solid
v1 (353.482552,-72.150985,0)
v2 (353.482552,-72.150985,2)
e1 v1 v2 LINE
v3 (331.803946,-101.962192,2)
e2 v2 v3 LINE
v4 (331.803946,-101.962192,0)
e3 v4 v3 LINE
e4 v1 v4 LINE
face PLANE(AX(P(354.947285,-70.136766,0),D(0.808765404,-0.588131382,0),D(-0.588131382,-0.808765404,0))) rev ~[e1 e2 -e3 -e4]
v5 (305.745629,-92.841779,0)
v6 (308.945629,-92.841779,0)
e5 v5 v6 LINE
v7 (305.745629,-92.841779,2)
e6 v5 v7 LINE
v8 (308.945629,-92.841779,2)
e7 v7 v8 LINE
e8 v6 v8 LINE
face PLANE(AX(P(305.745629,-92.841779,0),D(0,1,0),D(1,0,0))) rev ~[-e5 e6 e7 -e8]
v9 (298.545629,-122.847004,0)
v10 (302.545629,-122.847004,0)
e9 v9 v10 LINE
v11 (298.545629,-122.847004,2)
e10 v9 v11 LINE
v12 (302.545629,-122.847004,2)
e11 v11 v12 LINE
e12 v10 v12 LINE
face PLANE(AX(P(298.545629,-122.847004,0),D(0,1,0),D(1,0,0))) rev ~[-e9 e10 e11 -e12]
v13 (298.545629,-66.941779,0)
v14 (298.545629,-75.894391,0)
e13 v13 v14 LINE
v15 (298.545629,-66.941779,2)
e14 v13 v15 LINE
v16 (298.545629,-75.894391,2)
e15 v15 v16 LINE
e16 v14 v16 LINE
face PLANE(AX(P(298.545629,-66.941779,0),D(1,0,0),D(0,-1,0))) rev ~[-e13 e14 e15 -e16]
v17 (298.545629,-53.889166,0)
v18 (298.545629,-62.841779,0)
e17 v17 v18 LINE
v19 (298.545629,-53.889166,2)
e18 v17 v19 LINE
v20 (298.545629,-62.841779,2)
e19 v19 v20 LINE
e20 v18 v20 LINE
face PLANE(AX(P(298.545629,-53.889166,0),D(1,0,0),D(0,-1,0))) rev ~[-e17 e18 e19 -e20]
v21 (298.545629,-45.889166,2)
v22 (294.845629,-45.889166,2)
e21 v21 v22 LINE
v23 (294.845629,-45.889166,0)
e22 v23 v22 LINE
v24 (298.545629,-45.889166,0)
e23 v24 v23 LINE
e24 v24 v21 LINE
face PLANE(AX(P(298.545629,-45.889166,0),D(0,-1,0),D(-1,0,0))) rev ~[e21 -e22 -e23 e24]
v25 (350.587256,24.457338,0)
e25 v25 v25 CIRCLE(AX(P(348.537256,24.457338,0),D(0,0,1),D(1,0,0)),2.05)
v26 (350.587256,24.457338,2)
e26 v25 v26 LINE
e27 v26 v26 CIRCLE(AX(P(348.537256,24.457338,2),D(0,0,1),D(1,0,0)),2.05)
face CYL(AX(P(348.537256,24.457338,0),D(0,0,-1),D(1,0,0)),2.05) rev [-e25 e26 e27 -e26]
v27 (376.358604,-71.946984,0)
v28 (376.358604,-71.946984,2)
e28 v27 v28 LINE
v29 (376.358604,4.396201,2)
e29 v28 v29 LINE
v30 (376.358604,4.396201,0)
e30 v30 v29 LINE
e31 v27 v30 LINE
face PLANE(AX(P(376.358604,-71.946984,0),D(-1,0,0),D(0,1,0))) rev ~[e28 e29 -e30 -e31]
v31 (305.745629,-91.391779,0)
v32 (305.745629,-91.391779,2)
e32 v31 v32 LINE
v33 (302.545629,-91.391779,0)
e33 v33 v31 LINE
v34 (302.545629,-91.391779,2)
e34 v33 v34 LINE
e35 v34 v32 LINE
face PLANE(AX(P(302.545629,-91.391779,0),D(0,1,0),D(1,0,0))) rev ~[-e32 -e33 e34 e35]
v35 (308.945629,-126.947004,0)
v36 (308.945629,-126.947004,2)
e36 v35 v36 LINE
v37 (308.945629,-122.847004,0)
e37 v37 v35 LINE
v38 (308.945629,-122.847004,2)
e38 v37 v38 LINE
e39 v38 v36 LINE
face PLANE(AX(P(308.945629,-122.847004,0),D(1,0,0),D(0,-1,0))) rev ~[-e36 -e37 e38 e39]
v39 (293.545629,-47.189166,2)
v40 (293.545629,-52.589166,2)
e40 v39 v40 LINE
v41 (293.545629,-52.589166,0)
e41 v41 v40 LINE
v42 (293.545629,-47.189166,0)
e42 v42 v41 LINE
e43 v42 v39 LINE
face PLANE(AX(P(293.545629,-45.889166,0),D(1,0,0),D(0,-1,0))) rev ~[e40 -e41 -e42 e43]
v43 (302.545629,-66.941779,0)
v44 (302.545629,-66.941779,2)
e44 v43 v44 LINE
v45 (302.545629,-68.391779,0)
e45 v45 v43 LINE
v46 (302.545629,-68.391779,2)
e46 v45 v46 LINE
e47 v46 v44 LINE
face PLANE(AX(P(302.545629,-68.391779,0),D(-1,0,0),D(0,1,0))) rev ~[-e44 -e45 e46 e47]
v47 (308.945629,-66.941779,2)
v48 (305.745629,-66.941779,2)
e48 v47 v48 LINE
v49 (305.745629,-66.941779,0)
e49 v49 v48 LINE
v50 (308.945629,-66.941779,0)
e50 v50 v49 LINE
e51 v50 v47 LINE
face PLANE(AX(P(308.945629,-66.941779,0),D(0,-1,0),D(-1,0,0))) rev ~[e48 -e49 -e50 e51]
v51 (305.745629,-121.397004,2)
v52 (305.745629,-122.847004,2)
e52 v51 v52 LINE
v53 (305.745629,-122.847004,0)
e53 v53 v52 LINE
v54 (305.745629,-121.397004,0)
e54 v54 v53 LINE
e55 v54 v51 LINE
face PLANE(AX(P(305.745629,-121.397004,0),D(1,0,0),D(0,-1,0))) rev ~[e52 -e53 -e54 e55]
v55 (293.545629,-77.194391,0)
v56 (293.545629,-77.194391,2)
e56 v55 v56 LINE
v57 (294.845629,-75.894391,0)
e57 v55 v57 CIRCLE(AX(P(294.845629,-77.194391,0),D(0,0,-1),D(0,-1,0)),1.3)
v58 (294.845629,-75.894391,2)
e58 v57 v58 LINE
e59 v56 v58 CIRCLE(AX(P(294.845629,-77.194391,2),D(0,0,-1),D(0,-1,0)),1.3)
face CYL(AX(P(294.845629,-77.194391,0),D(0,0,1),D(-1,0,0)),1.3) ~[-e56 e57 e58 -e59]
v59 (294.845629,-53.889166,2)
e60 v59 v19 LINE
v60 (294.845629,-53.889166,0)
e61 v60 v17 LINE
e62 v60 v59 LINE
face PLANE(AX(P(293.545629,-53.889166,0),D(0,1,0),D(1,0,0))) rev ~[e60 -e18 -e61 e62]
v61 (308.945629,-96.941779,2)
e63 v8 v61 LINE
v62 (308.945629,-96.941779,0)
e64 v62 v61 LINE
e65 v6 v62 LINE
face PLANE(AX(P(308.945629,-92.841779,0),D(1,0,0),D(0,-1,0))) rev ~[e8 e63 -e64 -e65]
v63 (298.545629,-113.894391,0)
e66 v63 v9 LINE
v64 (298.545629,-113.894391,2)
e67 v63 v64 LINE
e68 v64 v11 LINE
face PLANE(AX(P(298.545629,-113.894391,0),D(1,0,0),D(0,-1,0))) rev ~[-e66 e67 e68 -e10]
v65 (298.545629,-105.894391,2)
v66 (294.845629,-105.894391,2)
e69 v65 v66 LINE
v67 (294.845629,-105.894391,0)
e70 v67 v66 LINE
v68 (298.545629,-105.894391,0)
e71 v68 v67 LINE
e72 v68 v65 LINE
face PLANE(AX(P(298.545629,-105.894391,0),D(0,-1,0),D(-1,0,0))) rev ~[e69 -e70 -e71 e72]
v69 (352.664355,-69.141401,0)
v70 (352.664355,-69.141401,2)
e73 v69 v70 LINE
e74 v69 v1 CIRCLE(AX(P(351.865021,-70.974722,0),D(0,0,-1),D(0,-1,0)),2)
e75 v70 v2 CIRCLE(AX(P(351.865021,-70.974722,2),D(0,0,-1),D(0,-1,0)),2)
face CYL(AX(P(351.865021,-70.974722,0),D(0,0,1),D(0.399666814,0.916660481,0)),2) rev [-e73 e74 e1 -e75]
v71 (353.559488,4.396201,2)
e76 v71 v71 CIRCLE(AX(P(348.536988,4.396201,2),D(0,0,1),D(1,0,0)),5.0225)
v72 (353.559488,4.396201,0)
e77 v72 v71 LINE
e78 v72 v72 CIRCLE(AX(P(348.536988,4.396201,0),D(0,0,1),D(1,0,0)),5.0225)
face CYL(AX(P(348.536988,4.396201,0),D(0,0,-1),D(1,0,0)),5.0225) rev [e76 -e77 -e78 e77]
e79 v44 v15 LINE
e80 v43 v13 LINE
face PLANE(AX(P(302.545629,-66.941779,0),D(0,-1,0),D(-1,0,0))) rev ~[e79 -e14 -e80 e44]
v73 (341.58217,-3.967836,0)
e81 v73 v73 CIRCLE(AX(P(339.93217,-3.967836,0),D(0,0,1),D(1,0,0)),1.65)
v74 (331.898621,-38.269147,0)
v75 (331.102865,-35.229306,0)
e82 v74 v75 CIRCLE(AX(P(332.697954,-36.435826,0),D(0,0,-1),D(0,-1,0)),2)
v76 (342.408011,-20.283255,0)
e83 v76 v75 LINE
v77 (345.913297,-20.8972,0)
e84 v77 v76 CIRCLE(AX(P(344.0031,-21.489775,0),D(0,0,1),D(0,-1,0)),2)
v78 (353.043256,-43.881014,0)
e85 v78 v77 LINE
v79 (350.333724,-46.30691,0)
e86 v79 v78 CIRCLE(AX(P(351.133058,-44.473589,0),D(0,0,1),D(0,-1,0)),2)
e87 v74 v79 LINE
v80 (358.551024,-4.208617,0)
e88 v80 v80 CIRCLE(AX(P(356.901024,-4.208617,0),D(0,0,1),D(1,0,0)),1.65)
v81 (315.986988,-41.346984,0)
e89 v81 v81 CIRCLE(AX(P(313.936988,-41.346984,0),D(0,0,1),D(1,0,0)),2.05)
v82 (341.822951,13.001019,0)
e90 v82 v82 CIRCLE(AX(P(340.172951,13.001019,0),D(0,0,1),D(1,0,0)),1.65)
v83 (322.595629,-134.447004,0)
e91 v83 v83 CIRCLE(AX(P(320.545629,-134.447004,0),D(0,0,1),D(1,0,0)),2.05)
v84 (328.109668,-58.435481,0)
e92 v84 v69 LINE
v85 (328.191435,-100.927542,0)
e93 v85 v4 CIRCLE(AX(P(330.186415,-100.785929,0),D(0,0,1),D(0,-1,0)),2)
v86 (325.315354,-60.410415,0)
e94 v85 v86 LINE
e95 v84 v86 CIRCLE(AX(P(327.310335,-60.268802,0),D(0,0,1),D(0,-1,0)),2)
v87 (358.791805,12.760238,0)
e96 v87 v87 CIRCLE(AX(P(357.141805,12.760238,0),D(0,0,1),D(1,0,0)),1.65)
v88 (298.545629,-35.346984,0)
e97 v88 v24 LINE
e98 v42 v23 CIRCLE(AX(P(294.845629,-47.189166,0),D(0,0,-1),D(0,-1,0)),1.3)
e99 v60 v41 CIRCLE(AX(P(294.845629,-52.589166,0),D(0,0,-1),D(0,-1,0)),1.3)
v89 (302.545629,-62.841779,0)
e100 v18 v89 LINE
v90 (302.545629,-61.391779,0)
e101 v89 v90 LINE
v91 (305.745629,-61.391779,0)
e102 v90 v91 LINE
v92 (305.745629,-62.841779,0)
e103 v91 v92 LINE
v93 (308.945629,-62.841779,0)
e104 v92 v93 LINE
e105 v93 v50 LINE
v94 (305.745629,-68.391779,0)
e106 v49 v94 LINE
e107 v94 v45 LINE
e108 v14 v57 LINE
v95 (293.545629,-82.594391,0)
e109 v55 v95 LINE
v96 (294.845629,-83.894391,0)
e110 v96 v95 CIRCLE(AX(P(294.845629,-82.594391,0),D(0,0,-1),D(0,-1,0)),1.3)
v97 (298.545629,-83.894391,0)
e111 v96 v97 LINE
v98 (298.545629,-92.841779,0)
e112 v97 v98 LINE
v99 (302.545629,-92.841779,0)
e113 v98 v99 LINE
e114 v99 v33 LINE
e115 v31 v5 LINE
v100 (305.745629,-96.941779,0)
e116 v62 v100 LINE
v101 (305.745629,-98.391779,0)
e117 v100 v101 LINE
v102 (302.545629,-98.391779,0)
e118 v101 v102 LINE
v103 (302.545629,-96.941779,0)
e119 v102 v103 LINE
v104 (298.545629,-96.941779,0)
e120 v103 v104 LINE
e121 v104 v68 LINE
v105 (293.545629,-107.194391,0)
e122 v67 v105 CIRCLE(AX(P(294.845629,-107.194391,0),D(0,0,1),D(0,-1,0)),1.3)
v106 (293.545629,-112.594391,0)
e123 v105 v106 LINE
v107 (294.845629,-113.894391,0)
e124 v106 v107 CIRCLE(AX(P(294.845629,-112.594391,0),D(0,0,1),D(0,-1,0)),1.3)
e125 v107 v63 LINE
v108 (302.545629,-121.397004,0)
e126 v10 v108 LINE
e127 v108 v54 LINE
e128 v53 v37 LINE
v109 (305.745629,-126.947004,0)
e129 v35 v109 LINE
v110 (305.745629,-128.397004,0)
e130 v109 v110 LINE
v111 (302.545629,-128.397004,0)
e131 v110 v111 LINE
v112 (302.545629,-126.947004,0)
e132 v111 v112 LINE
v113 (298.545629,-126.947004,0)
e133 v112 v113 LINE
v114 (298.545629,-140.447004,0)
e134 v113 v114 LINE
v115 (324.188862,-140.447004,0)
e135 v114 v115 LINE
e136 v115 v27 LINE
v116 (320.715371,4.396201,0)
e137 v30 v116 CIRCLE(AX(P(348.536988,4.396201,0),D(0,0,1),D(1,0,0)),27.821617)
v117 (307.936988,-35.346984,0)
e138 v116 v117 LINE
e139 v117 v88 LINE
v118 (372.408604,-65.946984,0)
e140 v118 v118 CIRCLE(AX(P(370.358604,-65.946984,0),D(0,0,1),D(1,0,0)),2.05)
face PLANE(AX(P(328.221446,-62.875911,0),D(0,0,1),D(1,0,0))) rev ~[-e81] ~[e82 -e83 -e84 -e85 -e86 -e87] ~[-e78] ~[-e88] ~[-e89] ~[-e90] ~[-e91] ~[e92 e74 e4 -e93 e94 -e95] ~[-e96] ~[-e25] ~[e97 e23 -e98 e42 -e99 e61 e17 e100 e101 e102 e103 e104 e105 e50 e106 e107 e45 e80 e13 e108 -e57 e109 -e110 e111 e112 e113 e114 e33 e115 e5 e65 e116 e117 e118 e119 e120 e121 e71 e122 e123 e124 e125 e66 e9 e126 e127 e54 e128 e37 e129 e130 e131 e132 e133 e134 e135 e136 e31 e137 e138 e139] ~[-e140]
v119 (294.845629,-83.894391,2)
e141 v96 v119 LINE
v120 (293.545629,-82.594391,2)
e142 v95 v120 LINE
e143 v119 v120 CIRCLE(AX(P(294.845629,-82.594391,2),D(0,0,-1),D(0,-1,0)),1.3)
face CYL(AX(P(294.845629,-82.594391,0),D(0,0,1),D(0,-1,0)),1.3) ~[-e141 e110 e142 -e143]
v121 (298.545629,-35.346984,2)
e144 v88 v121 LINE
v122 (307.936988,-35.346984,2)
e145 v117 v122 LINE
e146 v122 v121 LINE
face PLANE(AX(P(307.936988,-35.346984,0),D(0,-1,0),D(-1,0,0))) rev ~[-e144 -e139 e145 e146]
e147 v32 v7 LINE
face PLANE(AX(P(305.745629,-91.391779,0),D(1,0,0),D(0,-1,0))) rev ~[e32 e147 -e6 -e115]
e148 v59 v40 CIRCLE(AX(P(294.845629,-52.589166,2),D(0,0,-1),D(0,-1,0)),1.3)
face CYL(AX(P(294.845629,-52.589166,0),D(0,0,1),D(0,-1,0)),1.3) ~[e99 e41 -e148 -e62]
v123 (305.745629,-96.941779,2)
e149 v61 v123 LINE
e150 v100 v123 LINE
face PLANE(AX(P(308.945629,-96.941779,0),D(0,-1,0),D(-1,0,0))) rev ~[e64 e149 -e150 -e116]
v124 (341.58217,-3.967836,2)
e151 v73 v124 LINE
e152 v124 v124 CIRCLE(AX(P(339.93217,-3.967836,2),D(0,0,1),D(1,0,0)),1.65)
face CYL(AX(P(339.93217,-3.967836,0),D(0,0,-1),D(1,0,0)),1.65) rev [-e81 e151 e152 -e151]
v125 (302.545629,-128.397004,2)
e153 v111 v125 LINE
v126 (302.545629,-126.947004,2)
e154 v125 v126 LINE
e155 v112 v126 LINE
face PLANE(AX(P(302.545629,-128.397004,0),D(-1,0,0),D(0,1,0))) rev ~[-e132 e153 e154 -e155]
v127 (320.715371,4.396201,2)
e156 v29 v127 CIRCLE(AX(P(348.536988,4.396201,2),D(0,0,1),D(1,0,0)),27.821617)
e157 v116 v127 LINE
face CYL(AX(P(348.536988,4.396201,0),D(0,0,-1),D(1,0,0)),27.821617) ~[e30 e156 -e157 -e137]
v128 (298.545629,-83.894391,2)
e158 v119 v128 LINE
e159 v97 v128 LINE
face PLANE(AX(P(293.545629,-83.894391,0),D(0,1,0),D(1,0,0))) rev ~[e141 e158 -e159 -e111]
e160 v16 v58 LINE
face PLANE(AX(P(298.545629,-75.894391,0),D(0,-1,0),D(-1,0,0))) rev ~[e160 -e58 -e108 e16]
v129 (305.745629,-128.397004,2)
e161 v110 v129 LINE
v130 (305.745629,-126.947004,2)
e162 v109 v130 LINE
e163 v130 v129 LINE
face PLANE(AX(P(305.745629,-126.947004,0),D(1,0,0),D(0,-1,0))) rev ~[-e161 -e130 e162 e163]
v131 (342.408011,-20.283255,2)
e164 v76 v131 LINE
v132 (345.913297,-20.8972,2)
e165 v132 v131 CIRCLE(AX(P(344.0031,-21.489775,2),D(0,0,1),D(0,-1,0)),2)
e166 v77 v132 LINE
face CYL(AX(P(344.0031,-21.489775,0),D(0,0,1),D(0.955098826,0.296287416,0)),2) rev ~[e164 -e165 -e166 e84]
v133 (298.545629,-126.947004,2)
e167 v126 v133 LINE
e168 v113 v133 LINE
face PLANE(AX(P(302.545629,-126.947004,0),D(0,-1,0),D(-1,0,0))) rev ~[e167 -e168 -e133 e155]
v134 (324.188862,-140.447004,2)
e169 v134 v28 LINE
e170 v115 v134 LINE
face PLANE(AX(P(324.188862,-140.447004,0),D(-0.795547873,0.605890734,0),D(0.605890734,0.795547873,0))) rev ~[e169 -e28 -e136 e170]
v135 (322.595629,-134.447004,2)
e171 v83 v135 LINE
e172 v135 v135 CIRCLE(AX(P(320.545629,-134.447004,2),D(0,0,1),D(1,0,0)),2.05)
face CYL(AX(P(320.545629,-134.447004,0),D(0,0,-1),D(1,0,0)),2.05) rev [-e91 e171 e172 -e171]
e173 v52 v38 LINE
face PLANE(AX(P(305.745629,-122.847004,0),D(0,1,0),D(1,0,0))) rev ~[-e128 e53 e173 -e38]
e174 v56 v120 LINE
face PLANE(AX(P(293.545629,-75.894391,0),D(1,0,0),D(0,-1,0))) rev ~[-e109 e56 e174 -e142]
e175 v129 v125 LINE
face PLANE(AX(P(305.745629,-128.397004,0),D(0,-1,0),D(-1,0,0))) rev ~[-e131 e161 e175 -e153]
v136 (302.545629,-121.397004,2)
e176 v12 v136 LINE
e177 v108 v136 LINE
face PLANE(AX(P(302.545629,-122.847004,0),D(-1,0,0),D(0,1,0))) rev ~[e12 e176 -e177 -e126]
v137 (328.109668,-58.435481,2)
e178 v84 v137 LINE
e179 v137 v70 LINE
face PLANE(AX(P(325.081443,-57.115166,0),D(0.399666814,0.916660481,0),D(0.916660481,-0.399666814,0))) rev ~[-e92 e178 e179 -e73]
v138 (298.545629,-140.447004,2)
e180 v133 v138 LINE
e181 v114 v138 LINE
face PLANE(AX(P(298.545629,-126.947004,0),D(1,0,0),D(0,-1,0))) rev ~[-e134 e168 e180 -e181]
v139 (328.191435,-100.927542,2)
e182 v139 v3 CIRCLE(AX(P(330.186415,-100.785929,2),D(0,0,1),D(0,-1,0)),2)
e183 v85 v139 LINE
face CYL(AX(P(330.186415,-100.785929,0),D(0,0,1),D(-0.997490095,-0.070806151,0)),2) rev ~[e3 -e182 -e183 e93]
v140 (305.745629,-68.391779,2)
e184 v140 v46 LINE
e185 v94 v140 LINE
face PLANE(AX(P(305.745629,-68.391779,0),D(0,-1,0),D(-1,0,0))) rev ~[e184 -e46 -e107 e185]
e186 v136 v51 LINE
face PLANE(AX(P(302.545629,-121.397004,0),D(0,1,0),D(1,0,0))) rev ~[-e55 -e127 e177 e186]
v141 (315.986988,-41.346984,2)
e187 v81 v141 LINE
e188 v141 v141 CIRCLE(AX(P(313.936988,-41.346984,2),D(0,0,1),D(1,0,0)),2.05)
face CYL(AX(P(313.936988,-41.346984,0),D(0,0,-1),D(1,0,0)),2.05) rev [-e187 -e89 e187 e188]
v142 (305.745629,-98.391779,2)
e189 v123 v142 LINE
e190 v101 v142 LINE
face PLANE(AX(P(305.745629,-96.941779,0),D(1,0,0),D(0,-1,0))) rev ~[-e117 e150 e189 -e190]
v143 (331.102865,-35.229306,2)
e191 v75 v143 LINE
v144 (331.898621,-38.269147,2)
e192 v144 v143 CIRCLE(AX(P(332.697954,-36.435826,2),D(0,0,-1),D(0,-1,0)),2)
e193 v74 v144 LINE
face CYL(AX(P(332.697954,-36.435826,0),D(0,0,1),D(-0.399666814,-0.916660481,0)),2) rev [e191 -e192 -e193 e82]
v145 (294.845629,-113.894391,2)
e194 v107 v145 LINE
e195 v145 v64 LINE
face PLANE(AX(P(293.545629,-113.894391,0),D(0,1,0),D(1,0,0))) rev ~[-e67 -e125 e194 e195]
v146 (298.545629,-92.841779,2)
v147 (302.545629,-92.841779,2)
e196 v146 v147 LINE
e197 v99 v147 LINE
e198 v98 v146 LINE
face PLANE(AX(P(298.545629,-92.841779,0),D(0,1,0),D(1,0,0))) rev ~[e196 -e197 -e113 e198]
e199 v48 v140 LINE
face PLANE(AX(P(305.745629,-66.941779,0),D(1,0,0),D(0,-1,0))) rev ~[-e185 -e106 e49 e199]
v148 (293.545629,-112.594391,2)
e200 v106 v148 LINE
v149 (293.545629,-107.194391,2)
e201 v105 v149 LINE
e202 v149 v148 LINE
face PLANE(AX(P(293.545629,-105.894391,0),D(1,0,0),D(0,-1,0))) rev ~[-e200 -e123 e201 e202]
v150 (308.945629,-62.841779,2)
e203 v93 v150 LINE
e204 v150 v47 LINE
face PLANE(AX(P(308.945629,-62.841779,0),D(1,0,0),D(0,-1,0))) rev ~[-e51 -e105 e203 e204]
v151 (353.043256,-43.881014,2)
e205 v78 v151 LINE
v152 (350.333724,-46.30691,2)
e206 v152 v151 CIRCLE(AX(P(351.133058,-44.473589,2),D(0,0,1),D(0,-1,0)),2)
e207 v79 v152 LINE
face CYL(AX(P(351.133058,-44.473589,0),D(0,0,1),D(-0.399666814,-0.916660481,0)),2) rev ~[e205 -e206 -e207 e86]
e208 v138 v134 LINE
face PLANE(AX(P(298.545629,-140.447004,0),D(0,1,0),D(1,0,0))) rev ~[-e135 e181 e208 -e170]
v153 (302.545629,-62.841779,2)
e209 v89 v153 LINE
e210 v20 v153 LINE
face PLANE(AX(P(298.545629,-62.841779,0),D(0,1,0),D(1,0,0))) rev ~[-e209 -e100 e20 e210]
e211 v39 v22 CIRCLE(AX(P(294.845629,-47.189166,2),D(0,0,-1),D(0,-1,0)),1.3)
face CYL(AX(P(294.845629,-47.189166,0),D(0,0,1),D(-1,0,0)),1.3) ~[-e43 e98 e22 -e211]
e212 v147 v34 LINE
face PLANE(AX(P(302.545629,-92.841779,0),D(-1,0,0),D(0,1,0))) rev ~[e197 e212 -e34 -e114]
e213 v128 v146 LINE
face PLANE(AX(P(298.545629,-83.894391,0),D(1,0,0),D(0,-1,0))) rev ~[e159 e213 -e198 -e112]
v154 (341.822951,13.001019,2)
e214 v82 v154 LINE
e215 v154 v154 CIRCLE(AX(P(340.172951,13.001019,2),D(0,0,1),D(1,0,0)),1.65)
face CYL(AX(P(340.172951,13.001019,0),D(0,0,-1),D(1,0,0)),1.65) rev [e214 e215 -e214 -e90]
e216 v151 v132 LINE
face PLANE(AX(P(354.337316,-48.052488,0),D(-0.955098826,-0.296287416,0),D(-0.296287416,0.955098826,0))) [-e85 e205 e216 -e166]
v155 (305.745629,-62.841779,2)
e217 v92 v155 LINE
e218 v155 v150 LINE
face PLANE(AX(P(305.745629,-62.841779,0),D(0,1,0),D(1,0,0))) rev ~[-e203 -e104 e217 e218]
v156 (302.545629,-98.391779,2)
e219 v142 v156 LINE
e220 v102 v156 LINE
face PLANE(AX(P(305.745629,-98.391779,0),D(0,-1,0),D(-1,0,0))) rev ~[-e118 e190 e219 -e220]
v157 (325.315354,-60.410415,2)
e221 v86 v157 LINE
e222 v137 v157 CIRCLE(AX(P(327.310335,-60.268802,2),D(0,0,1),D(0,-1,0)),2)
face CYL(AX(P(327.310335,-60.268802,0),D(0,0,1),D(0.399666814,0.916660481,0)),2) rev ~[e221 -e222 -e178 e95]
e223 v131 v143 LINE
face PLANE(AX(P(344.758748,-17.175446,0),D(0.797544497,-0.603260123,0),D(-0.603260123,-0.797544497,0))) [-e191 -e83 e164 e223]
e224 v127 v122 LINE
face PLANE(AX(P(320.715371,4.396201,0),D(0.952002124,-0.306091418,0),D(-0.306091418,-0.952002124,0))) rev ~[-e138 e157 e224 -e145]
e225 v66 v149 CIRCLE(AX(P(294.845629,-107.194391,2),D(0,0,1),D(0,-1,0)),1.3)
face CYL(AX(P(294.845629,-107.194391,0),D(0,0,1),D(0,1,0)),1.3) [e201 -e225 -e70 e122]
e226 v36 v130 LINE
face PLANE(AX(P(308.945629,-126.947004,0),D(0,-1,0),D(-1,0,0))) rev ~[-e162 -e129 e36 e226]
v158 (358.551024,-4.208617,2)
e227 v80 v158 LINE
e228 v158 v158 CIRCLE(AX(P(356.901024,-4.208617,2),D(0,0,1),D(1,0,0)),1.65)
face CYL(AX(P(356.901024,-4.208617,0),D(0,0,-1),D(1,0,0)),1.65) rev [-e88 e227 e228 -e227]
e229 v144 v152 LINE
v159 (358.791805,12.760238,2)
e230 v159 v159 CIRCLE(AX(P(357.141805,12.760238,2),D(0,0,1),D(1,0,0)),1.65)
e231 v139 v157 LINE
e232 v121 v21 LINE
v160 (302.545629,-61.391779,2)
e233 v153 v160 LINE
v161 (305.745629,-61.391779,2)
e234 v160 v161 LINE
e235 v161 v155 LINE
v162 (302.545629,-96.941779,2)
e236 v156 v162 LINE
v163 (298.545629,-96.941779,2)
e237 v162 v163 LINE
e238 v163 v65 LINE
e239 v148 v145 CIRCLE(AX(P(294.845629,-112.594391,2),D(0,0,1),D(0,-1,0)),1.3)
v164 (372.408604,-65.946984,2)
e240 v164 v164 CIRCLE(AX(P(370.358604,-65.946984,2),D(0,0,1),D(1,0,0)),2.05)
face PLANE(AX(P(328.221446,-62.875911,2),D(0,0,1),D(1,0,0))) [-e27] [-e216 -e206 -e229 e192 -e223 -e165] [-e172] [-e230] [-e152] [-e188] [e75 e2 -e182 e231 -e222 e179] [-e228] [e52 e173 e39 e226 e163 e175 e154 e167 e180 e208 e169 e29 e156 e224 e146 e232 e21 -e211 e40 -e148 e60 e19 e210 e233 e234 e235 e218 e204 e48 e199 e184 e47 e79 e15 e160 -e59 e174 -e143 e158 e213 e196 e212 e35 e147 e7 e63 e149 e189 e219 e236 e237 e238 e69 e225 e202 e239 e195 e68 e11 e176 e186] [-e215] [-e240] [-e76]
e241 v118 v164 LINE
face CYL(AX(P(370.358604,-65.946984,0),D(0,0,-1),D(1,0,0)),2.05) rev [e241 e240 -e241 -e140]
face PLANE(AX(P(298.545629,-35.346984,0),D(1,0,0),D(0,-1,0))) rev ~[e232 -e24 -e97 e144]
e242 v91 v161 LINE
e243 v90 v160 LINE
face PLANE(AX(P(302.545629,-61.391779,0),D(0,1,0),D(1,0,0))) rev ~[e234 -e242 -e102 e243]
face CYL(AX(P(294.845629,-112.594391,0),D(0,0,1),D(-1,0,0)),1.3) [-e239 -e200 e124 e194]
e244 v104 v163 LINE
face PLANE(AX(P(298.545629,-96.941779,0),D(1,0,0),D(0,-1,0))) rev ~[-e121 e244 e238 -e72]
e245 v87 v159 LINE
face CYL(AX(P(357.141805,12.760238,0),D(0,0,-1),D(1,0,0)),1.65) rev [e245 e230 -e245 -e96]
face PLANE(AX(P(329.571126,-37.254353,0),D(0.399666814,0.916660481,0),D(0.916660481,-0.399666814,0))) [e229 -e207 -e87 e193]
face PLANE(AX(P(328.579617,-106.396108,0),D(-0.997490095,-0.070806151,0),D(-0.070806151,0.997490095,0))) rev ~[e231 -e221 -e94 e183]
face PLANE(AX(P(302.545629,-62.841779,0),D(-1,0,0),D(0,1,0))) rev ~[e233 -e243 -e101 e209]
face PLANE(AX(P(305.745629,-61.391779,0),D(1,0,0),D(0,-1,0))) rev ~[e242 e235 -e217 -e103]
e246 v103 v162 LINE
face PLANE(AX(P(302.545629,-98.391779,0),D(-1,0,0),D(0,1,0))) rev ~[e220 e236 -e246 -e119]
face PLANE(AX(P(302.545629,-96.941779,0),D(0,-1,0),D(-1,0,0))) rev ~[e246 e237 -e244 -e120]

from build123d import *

# Parameters (mm, degrees)
SKETCH_1_R      = 5.0225
SKETCH_1_R_2    = 2.05
SKETCH_1_R_3    = 1.649999998
EXTRUDE_1_DEPTH = 2
FILLET_1_R      = 2
FILLET_2_R      = 1.3


with BuildPart() as part:
    # 草图1 → 凸台-拉伸1 (new body)
    with BuildSketch(Plane.XY):
        with BuildLine():
            Line((298.545628784, -83.894391363), (298.545628784, -92.841778663))
            Line((298.545628784, -92.841778663), (302.545628784, -92.841778663))
            Line((302.545628784, -92.841778663), (302.545628784, -91.391778663))
            Line((302.545628784, -91.391778663), (305.745628784, -91.391778663))
            Line((305.745628784, -91.391778663), (305.745628784, -92.841778663))
            Line((305.745628784, -92.841778663), (308.945628784, -92.841778663))
            Line((308.945628784, -92.841778663), (308.945628784, -96.941778663))
            Line((308.945628784, -96.941778663), (305.745628784, -96.941778663))
            Line((305.745628784, -96.941778663), (305.745628784, -98.391778663))
            Line((305.745628784, -98.391778663), (302.545628784, -98.391778663))
            Line((302.545628784, -98.391778663), (302.545628784, -96.941778663))
            Line((302.545628784, -96.941778663), (298.545628784, -96.941778663))
            Line((298.545628784, -96.941778663), (298.545628784, -105.894391358))
            Line((298.545628784, -105.894391358), (293.545628784, -105.894391358))
            Line((293.545628784, -105.894391358), (293.545628784, -113.894391358))
            Line((293.545628784, -113.894391358), (298.545628784, -113.894391358))
            Line((298.545628784, -113.894391358), (298.545628784, -122.847004054))
            Line((298.545628784, -122.847004054), (302.545628784, -122.847004054))
            Line((302.545628784, -122.847004054), (302.545628784, -121.397004054))
            Line((302.545628784, -121.397004054), (305.745628784, -121.397004054))
            Line((305.745628784, -121.397004054), (305.745628784, -122.847004054))
            Line((305.745628784, -122.847004054), (308.945628784, -122.847004054))
            Line((308.945628784, -122.847004054), (308.945628784, -126.947004054))
            Line((308.945628784, -126.947004054), (305.745628784, -126.947004054))
            Line((305.745628784, -126.947004054), (305.745628784, -128.397004054))
            Line((305.745628784, -128.397004054), (302.545628784, -128.397004054))
            Line((302.545628784, -128.397004054), (302.545628784, -126.947004054))
            Line((302.545628784, -126.947004054), (298.545628784, -126.947004054))
            Line((298.545628784, -126.947004054), (298.545628784, -140.447004054))
            Line((298.545628784, -140.447004054), (324.188862368, -140.447004054))
            Line((324.188862368, -140.447004054), (376.358604426, -71.946984141))
            Line((376.358604426, -71.946984141), (376.358604426, 4.396201153))
            ThreePointArc((376.358604426, 4.396201153), (348.536987634, 32.217817945), (320.715370843, 4.396201153))
            Line((320.715370843, 4.396201153), (307.936987634, -35.346984141))
            Line((307.936987634, -35.346984141), (298.545628784, -35.346984141))
            Line((298.545628784, -35.346984141), (298.545628784, -45.889165972))
            Line((298.545628784, -45.889165972), (293.545628784, -45.889165972))
            Line((293.545628784, -45.889165972), (293.545628784, -53.889165972))
            Line((293.545628784, -53.889165972), (298.545628784, -53.889165972))
            Line((298.545628784, -53.889165972), (298.545628784, -62.841778668))
            Line((298.545628784, -62.841778668), (302.545628784, -62.841778668))
            Line((302.545628784, -62.841778668), (302.545628784, -61.391778668))
            Line((302.545628784, -61.391778668), (305.745628784, -61.391778668))
            Line((305.745628784, -61.391778668), (305.745628784, -62.841778668))
            Line((305.745628784, -62.841778668), (308.945628784, -62.841778668))
            Line((308.945628784, -62.841778668), (308.945628784, -66.941778668))
            Line((308.945628784, -66.941778668), (305.745628784, -66.941778668))
            Line((305.745628784, -66.941778668), (305.745628784, -68.391778668))
            Line((305.745628784, -68.391778668), (302.545628784, -68.391778668))
            Line((302.545628784, -68.391778668), (302.545628784, -66.941778668))
            Line((302.545628784, -66.941778668), (298.545628784, -66.941778668))
            Line((298.545628784, -66.941778668), (298.545628784, -75.894391363))
            Line((298.545628784, -75.894391363), (293.545628784, -75.894391363))
            Line((293.545628784, -75.894391363), (293.545628784, -83.894391363))
            Line((293.545628784, -83.894391363), (298.545628784, -83.894391363))
        make_face()
        with Locations((348.536987634, 4.396201153)):
            Circle(SKETCH_1_R, mode=Mode.SUBTRACT)
        with Locations((348.537256281, 24.457337504)):
            Circle(SKETCH_1_R_2, mode=Mode.SUBTRACT)
        with Locations((320.545628784, -134.447004054)):
            Circle(SKETCH_1_R_2, mode=Mode.SUBTRACT)
        with Locations((370.358604426, -65.946984141)):
            Circle(SKETCH_1_R_2, mode=Mode.SUBTRACT)
        with Locations((313.936987634, -41.346984141)):
            Circle(SKETCH_1_R_2, mode=Mode.SUBTRACT)
        with Locations((340.172950793, 13.001018857)):
            Circle(SKETCH_1_R_3, mode=Mode.SUBTRACT)
        with Locations((357.141805339, 12.760237994)):
            Circle(SKETCH_1_R_3, mode=Mode.SUBTRACT)
        with Locations((356.901024475, -4.208616551)):
            Circle(SKETCH_1_R_3, mode=Mode.SUBTRACT)
        with Locations((339.93216993, -3.967835688)):
            Circle(SKETCH_1_R_3, mode=Mode.SUBTRACT)
        Polygon((354.947285032, -70.136765586), (328.579617375, -106.396108383), (325.08144343, -57.115165973), align=None, mode=Mode.SUBTRACT)
        Polygon((329.571126451, -37.254352656), (354.337315751, -48.052488042), (344.758747766, -17.175445836), align=None, mode=Mode.SUBTRACT)
    extrude(amount=EXTRUDE_1_DEPTH)

    # 圆角1
    fillet_1_edges = [part.edges().sort_by_distance(p)[0] for p in [
        (354.947285032, -70.136765586, 1),
        (325.08144343, -57.115165973, 1),
        (328.579617375, -106.396108383, 1),
        (344.758747766, -17.175445836, 1),
        (329.571126451, -37.254352656, 1),
        (354.337315751, -48.052488042, 1),
    ]]
    fillet(fillet_1_edges, radius=FILLET_1_R)

    # 圆角2
    fillet_2_edges = [part.edges().sort_by_distance(p)[0] for p in [
        (293.545628784, -113.894391358, 1),
        (293.545628784, -105.894391358, 1),
        (293.545628784, -83.894391363, 1),
        (293.545628784, -75.894391363, 1),
        (293.545628784, -53.889165972, 1),
        (293.545628784, -45.889165972, 1),
    ]]
    fillet(fillet_2_edges, radius=FILLET_2_R)


solid = part.part
